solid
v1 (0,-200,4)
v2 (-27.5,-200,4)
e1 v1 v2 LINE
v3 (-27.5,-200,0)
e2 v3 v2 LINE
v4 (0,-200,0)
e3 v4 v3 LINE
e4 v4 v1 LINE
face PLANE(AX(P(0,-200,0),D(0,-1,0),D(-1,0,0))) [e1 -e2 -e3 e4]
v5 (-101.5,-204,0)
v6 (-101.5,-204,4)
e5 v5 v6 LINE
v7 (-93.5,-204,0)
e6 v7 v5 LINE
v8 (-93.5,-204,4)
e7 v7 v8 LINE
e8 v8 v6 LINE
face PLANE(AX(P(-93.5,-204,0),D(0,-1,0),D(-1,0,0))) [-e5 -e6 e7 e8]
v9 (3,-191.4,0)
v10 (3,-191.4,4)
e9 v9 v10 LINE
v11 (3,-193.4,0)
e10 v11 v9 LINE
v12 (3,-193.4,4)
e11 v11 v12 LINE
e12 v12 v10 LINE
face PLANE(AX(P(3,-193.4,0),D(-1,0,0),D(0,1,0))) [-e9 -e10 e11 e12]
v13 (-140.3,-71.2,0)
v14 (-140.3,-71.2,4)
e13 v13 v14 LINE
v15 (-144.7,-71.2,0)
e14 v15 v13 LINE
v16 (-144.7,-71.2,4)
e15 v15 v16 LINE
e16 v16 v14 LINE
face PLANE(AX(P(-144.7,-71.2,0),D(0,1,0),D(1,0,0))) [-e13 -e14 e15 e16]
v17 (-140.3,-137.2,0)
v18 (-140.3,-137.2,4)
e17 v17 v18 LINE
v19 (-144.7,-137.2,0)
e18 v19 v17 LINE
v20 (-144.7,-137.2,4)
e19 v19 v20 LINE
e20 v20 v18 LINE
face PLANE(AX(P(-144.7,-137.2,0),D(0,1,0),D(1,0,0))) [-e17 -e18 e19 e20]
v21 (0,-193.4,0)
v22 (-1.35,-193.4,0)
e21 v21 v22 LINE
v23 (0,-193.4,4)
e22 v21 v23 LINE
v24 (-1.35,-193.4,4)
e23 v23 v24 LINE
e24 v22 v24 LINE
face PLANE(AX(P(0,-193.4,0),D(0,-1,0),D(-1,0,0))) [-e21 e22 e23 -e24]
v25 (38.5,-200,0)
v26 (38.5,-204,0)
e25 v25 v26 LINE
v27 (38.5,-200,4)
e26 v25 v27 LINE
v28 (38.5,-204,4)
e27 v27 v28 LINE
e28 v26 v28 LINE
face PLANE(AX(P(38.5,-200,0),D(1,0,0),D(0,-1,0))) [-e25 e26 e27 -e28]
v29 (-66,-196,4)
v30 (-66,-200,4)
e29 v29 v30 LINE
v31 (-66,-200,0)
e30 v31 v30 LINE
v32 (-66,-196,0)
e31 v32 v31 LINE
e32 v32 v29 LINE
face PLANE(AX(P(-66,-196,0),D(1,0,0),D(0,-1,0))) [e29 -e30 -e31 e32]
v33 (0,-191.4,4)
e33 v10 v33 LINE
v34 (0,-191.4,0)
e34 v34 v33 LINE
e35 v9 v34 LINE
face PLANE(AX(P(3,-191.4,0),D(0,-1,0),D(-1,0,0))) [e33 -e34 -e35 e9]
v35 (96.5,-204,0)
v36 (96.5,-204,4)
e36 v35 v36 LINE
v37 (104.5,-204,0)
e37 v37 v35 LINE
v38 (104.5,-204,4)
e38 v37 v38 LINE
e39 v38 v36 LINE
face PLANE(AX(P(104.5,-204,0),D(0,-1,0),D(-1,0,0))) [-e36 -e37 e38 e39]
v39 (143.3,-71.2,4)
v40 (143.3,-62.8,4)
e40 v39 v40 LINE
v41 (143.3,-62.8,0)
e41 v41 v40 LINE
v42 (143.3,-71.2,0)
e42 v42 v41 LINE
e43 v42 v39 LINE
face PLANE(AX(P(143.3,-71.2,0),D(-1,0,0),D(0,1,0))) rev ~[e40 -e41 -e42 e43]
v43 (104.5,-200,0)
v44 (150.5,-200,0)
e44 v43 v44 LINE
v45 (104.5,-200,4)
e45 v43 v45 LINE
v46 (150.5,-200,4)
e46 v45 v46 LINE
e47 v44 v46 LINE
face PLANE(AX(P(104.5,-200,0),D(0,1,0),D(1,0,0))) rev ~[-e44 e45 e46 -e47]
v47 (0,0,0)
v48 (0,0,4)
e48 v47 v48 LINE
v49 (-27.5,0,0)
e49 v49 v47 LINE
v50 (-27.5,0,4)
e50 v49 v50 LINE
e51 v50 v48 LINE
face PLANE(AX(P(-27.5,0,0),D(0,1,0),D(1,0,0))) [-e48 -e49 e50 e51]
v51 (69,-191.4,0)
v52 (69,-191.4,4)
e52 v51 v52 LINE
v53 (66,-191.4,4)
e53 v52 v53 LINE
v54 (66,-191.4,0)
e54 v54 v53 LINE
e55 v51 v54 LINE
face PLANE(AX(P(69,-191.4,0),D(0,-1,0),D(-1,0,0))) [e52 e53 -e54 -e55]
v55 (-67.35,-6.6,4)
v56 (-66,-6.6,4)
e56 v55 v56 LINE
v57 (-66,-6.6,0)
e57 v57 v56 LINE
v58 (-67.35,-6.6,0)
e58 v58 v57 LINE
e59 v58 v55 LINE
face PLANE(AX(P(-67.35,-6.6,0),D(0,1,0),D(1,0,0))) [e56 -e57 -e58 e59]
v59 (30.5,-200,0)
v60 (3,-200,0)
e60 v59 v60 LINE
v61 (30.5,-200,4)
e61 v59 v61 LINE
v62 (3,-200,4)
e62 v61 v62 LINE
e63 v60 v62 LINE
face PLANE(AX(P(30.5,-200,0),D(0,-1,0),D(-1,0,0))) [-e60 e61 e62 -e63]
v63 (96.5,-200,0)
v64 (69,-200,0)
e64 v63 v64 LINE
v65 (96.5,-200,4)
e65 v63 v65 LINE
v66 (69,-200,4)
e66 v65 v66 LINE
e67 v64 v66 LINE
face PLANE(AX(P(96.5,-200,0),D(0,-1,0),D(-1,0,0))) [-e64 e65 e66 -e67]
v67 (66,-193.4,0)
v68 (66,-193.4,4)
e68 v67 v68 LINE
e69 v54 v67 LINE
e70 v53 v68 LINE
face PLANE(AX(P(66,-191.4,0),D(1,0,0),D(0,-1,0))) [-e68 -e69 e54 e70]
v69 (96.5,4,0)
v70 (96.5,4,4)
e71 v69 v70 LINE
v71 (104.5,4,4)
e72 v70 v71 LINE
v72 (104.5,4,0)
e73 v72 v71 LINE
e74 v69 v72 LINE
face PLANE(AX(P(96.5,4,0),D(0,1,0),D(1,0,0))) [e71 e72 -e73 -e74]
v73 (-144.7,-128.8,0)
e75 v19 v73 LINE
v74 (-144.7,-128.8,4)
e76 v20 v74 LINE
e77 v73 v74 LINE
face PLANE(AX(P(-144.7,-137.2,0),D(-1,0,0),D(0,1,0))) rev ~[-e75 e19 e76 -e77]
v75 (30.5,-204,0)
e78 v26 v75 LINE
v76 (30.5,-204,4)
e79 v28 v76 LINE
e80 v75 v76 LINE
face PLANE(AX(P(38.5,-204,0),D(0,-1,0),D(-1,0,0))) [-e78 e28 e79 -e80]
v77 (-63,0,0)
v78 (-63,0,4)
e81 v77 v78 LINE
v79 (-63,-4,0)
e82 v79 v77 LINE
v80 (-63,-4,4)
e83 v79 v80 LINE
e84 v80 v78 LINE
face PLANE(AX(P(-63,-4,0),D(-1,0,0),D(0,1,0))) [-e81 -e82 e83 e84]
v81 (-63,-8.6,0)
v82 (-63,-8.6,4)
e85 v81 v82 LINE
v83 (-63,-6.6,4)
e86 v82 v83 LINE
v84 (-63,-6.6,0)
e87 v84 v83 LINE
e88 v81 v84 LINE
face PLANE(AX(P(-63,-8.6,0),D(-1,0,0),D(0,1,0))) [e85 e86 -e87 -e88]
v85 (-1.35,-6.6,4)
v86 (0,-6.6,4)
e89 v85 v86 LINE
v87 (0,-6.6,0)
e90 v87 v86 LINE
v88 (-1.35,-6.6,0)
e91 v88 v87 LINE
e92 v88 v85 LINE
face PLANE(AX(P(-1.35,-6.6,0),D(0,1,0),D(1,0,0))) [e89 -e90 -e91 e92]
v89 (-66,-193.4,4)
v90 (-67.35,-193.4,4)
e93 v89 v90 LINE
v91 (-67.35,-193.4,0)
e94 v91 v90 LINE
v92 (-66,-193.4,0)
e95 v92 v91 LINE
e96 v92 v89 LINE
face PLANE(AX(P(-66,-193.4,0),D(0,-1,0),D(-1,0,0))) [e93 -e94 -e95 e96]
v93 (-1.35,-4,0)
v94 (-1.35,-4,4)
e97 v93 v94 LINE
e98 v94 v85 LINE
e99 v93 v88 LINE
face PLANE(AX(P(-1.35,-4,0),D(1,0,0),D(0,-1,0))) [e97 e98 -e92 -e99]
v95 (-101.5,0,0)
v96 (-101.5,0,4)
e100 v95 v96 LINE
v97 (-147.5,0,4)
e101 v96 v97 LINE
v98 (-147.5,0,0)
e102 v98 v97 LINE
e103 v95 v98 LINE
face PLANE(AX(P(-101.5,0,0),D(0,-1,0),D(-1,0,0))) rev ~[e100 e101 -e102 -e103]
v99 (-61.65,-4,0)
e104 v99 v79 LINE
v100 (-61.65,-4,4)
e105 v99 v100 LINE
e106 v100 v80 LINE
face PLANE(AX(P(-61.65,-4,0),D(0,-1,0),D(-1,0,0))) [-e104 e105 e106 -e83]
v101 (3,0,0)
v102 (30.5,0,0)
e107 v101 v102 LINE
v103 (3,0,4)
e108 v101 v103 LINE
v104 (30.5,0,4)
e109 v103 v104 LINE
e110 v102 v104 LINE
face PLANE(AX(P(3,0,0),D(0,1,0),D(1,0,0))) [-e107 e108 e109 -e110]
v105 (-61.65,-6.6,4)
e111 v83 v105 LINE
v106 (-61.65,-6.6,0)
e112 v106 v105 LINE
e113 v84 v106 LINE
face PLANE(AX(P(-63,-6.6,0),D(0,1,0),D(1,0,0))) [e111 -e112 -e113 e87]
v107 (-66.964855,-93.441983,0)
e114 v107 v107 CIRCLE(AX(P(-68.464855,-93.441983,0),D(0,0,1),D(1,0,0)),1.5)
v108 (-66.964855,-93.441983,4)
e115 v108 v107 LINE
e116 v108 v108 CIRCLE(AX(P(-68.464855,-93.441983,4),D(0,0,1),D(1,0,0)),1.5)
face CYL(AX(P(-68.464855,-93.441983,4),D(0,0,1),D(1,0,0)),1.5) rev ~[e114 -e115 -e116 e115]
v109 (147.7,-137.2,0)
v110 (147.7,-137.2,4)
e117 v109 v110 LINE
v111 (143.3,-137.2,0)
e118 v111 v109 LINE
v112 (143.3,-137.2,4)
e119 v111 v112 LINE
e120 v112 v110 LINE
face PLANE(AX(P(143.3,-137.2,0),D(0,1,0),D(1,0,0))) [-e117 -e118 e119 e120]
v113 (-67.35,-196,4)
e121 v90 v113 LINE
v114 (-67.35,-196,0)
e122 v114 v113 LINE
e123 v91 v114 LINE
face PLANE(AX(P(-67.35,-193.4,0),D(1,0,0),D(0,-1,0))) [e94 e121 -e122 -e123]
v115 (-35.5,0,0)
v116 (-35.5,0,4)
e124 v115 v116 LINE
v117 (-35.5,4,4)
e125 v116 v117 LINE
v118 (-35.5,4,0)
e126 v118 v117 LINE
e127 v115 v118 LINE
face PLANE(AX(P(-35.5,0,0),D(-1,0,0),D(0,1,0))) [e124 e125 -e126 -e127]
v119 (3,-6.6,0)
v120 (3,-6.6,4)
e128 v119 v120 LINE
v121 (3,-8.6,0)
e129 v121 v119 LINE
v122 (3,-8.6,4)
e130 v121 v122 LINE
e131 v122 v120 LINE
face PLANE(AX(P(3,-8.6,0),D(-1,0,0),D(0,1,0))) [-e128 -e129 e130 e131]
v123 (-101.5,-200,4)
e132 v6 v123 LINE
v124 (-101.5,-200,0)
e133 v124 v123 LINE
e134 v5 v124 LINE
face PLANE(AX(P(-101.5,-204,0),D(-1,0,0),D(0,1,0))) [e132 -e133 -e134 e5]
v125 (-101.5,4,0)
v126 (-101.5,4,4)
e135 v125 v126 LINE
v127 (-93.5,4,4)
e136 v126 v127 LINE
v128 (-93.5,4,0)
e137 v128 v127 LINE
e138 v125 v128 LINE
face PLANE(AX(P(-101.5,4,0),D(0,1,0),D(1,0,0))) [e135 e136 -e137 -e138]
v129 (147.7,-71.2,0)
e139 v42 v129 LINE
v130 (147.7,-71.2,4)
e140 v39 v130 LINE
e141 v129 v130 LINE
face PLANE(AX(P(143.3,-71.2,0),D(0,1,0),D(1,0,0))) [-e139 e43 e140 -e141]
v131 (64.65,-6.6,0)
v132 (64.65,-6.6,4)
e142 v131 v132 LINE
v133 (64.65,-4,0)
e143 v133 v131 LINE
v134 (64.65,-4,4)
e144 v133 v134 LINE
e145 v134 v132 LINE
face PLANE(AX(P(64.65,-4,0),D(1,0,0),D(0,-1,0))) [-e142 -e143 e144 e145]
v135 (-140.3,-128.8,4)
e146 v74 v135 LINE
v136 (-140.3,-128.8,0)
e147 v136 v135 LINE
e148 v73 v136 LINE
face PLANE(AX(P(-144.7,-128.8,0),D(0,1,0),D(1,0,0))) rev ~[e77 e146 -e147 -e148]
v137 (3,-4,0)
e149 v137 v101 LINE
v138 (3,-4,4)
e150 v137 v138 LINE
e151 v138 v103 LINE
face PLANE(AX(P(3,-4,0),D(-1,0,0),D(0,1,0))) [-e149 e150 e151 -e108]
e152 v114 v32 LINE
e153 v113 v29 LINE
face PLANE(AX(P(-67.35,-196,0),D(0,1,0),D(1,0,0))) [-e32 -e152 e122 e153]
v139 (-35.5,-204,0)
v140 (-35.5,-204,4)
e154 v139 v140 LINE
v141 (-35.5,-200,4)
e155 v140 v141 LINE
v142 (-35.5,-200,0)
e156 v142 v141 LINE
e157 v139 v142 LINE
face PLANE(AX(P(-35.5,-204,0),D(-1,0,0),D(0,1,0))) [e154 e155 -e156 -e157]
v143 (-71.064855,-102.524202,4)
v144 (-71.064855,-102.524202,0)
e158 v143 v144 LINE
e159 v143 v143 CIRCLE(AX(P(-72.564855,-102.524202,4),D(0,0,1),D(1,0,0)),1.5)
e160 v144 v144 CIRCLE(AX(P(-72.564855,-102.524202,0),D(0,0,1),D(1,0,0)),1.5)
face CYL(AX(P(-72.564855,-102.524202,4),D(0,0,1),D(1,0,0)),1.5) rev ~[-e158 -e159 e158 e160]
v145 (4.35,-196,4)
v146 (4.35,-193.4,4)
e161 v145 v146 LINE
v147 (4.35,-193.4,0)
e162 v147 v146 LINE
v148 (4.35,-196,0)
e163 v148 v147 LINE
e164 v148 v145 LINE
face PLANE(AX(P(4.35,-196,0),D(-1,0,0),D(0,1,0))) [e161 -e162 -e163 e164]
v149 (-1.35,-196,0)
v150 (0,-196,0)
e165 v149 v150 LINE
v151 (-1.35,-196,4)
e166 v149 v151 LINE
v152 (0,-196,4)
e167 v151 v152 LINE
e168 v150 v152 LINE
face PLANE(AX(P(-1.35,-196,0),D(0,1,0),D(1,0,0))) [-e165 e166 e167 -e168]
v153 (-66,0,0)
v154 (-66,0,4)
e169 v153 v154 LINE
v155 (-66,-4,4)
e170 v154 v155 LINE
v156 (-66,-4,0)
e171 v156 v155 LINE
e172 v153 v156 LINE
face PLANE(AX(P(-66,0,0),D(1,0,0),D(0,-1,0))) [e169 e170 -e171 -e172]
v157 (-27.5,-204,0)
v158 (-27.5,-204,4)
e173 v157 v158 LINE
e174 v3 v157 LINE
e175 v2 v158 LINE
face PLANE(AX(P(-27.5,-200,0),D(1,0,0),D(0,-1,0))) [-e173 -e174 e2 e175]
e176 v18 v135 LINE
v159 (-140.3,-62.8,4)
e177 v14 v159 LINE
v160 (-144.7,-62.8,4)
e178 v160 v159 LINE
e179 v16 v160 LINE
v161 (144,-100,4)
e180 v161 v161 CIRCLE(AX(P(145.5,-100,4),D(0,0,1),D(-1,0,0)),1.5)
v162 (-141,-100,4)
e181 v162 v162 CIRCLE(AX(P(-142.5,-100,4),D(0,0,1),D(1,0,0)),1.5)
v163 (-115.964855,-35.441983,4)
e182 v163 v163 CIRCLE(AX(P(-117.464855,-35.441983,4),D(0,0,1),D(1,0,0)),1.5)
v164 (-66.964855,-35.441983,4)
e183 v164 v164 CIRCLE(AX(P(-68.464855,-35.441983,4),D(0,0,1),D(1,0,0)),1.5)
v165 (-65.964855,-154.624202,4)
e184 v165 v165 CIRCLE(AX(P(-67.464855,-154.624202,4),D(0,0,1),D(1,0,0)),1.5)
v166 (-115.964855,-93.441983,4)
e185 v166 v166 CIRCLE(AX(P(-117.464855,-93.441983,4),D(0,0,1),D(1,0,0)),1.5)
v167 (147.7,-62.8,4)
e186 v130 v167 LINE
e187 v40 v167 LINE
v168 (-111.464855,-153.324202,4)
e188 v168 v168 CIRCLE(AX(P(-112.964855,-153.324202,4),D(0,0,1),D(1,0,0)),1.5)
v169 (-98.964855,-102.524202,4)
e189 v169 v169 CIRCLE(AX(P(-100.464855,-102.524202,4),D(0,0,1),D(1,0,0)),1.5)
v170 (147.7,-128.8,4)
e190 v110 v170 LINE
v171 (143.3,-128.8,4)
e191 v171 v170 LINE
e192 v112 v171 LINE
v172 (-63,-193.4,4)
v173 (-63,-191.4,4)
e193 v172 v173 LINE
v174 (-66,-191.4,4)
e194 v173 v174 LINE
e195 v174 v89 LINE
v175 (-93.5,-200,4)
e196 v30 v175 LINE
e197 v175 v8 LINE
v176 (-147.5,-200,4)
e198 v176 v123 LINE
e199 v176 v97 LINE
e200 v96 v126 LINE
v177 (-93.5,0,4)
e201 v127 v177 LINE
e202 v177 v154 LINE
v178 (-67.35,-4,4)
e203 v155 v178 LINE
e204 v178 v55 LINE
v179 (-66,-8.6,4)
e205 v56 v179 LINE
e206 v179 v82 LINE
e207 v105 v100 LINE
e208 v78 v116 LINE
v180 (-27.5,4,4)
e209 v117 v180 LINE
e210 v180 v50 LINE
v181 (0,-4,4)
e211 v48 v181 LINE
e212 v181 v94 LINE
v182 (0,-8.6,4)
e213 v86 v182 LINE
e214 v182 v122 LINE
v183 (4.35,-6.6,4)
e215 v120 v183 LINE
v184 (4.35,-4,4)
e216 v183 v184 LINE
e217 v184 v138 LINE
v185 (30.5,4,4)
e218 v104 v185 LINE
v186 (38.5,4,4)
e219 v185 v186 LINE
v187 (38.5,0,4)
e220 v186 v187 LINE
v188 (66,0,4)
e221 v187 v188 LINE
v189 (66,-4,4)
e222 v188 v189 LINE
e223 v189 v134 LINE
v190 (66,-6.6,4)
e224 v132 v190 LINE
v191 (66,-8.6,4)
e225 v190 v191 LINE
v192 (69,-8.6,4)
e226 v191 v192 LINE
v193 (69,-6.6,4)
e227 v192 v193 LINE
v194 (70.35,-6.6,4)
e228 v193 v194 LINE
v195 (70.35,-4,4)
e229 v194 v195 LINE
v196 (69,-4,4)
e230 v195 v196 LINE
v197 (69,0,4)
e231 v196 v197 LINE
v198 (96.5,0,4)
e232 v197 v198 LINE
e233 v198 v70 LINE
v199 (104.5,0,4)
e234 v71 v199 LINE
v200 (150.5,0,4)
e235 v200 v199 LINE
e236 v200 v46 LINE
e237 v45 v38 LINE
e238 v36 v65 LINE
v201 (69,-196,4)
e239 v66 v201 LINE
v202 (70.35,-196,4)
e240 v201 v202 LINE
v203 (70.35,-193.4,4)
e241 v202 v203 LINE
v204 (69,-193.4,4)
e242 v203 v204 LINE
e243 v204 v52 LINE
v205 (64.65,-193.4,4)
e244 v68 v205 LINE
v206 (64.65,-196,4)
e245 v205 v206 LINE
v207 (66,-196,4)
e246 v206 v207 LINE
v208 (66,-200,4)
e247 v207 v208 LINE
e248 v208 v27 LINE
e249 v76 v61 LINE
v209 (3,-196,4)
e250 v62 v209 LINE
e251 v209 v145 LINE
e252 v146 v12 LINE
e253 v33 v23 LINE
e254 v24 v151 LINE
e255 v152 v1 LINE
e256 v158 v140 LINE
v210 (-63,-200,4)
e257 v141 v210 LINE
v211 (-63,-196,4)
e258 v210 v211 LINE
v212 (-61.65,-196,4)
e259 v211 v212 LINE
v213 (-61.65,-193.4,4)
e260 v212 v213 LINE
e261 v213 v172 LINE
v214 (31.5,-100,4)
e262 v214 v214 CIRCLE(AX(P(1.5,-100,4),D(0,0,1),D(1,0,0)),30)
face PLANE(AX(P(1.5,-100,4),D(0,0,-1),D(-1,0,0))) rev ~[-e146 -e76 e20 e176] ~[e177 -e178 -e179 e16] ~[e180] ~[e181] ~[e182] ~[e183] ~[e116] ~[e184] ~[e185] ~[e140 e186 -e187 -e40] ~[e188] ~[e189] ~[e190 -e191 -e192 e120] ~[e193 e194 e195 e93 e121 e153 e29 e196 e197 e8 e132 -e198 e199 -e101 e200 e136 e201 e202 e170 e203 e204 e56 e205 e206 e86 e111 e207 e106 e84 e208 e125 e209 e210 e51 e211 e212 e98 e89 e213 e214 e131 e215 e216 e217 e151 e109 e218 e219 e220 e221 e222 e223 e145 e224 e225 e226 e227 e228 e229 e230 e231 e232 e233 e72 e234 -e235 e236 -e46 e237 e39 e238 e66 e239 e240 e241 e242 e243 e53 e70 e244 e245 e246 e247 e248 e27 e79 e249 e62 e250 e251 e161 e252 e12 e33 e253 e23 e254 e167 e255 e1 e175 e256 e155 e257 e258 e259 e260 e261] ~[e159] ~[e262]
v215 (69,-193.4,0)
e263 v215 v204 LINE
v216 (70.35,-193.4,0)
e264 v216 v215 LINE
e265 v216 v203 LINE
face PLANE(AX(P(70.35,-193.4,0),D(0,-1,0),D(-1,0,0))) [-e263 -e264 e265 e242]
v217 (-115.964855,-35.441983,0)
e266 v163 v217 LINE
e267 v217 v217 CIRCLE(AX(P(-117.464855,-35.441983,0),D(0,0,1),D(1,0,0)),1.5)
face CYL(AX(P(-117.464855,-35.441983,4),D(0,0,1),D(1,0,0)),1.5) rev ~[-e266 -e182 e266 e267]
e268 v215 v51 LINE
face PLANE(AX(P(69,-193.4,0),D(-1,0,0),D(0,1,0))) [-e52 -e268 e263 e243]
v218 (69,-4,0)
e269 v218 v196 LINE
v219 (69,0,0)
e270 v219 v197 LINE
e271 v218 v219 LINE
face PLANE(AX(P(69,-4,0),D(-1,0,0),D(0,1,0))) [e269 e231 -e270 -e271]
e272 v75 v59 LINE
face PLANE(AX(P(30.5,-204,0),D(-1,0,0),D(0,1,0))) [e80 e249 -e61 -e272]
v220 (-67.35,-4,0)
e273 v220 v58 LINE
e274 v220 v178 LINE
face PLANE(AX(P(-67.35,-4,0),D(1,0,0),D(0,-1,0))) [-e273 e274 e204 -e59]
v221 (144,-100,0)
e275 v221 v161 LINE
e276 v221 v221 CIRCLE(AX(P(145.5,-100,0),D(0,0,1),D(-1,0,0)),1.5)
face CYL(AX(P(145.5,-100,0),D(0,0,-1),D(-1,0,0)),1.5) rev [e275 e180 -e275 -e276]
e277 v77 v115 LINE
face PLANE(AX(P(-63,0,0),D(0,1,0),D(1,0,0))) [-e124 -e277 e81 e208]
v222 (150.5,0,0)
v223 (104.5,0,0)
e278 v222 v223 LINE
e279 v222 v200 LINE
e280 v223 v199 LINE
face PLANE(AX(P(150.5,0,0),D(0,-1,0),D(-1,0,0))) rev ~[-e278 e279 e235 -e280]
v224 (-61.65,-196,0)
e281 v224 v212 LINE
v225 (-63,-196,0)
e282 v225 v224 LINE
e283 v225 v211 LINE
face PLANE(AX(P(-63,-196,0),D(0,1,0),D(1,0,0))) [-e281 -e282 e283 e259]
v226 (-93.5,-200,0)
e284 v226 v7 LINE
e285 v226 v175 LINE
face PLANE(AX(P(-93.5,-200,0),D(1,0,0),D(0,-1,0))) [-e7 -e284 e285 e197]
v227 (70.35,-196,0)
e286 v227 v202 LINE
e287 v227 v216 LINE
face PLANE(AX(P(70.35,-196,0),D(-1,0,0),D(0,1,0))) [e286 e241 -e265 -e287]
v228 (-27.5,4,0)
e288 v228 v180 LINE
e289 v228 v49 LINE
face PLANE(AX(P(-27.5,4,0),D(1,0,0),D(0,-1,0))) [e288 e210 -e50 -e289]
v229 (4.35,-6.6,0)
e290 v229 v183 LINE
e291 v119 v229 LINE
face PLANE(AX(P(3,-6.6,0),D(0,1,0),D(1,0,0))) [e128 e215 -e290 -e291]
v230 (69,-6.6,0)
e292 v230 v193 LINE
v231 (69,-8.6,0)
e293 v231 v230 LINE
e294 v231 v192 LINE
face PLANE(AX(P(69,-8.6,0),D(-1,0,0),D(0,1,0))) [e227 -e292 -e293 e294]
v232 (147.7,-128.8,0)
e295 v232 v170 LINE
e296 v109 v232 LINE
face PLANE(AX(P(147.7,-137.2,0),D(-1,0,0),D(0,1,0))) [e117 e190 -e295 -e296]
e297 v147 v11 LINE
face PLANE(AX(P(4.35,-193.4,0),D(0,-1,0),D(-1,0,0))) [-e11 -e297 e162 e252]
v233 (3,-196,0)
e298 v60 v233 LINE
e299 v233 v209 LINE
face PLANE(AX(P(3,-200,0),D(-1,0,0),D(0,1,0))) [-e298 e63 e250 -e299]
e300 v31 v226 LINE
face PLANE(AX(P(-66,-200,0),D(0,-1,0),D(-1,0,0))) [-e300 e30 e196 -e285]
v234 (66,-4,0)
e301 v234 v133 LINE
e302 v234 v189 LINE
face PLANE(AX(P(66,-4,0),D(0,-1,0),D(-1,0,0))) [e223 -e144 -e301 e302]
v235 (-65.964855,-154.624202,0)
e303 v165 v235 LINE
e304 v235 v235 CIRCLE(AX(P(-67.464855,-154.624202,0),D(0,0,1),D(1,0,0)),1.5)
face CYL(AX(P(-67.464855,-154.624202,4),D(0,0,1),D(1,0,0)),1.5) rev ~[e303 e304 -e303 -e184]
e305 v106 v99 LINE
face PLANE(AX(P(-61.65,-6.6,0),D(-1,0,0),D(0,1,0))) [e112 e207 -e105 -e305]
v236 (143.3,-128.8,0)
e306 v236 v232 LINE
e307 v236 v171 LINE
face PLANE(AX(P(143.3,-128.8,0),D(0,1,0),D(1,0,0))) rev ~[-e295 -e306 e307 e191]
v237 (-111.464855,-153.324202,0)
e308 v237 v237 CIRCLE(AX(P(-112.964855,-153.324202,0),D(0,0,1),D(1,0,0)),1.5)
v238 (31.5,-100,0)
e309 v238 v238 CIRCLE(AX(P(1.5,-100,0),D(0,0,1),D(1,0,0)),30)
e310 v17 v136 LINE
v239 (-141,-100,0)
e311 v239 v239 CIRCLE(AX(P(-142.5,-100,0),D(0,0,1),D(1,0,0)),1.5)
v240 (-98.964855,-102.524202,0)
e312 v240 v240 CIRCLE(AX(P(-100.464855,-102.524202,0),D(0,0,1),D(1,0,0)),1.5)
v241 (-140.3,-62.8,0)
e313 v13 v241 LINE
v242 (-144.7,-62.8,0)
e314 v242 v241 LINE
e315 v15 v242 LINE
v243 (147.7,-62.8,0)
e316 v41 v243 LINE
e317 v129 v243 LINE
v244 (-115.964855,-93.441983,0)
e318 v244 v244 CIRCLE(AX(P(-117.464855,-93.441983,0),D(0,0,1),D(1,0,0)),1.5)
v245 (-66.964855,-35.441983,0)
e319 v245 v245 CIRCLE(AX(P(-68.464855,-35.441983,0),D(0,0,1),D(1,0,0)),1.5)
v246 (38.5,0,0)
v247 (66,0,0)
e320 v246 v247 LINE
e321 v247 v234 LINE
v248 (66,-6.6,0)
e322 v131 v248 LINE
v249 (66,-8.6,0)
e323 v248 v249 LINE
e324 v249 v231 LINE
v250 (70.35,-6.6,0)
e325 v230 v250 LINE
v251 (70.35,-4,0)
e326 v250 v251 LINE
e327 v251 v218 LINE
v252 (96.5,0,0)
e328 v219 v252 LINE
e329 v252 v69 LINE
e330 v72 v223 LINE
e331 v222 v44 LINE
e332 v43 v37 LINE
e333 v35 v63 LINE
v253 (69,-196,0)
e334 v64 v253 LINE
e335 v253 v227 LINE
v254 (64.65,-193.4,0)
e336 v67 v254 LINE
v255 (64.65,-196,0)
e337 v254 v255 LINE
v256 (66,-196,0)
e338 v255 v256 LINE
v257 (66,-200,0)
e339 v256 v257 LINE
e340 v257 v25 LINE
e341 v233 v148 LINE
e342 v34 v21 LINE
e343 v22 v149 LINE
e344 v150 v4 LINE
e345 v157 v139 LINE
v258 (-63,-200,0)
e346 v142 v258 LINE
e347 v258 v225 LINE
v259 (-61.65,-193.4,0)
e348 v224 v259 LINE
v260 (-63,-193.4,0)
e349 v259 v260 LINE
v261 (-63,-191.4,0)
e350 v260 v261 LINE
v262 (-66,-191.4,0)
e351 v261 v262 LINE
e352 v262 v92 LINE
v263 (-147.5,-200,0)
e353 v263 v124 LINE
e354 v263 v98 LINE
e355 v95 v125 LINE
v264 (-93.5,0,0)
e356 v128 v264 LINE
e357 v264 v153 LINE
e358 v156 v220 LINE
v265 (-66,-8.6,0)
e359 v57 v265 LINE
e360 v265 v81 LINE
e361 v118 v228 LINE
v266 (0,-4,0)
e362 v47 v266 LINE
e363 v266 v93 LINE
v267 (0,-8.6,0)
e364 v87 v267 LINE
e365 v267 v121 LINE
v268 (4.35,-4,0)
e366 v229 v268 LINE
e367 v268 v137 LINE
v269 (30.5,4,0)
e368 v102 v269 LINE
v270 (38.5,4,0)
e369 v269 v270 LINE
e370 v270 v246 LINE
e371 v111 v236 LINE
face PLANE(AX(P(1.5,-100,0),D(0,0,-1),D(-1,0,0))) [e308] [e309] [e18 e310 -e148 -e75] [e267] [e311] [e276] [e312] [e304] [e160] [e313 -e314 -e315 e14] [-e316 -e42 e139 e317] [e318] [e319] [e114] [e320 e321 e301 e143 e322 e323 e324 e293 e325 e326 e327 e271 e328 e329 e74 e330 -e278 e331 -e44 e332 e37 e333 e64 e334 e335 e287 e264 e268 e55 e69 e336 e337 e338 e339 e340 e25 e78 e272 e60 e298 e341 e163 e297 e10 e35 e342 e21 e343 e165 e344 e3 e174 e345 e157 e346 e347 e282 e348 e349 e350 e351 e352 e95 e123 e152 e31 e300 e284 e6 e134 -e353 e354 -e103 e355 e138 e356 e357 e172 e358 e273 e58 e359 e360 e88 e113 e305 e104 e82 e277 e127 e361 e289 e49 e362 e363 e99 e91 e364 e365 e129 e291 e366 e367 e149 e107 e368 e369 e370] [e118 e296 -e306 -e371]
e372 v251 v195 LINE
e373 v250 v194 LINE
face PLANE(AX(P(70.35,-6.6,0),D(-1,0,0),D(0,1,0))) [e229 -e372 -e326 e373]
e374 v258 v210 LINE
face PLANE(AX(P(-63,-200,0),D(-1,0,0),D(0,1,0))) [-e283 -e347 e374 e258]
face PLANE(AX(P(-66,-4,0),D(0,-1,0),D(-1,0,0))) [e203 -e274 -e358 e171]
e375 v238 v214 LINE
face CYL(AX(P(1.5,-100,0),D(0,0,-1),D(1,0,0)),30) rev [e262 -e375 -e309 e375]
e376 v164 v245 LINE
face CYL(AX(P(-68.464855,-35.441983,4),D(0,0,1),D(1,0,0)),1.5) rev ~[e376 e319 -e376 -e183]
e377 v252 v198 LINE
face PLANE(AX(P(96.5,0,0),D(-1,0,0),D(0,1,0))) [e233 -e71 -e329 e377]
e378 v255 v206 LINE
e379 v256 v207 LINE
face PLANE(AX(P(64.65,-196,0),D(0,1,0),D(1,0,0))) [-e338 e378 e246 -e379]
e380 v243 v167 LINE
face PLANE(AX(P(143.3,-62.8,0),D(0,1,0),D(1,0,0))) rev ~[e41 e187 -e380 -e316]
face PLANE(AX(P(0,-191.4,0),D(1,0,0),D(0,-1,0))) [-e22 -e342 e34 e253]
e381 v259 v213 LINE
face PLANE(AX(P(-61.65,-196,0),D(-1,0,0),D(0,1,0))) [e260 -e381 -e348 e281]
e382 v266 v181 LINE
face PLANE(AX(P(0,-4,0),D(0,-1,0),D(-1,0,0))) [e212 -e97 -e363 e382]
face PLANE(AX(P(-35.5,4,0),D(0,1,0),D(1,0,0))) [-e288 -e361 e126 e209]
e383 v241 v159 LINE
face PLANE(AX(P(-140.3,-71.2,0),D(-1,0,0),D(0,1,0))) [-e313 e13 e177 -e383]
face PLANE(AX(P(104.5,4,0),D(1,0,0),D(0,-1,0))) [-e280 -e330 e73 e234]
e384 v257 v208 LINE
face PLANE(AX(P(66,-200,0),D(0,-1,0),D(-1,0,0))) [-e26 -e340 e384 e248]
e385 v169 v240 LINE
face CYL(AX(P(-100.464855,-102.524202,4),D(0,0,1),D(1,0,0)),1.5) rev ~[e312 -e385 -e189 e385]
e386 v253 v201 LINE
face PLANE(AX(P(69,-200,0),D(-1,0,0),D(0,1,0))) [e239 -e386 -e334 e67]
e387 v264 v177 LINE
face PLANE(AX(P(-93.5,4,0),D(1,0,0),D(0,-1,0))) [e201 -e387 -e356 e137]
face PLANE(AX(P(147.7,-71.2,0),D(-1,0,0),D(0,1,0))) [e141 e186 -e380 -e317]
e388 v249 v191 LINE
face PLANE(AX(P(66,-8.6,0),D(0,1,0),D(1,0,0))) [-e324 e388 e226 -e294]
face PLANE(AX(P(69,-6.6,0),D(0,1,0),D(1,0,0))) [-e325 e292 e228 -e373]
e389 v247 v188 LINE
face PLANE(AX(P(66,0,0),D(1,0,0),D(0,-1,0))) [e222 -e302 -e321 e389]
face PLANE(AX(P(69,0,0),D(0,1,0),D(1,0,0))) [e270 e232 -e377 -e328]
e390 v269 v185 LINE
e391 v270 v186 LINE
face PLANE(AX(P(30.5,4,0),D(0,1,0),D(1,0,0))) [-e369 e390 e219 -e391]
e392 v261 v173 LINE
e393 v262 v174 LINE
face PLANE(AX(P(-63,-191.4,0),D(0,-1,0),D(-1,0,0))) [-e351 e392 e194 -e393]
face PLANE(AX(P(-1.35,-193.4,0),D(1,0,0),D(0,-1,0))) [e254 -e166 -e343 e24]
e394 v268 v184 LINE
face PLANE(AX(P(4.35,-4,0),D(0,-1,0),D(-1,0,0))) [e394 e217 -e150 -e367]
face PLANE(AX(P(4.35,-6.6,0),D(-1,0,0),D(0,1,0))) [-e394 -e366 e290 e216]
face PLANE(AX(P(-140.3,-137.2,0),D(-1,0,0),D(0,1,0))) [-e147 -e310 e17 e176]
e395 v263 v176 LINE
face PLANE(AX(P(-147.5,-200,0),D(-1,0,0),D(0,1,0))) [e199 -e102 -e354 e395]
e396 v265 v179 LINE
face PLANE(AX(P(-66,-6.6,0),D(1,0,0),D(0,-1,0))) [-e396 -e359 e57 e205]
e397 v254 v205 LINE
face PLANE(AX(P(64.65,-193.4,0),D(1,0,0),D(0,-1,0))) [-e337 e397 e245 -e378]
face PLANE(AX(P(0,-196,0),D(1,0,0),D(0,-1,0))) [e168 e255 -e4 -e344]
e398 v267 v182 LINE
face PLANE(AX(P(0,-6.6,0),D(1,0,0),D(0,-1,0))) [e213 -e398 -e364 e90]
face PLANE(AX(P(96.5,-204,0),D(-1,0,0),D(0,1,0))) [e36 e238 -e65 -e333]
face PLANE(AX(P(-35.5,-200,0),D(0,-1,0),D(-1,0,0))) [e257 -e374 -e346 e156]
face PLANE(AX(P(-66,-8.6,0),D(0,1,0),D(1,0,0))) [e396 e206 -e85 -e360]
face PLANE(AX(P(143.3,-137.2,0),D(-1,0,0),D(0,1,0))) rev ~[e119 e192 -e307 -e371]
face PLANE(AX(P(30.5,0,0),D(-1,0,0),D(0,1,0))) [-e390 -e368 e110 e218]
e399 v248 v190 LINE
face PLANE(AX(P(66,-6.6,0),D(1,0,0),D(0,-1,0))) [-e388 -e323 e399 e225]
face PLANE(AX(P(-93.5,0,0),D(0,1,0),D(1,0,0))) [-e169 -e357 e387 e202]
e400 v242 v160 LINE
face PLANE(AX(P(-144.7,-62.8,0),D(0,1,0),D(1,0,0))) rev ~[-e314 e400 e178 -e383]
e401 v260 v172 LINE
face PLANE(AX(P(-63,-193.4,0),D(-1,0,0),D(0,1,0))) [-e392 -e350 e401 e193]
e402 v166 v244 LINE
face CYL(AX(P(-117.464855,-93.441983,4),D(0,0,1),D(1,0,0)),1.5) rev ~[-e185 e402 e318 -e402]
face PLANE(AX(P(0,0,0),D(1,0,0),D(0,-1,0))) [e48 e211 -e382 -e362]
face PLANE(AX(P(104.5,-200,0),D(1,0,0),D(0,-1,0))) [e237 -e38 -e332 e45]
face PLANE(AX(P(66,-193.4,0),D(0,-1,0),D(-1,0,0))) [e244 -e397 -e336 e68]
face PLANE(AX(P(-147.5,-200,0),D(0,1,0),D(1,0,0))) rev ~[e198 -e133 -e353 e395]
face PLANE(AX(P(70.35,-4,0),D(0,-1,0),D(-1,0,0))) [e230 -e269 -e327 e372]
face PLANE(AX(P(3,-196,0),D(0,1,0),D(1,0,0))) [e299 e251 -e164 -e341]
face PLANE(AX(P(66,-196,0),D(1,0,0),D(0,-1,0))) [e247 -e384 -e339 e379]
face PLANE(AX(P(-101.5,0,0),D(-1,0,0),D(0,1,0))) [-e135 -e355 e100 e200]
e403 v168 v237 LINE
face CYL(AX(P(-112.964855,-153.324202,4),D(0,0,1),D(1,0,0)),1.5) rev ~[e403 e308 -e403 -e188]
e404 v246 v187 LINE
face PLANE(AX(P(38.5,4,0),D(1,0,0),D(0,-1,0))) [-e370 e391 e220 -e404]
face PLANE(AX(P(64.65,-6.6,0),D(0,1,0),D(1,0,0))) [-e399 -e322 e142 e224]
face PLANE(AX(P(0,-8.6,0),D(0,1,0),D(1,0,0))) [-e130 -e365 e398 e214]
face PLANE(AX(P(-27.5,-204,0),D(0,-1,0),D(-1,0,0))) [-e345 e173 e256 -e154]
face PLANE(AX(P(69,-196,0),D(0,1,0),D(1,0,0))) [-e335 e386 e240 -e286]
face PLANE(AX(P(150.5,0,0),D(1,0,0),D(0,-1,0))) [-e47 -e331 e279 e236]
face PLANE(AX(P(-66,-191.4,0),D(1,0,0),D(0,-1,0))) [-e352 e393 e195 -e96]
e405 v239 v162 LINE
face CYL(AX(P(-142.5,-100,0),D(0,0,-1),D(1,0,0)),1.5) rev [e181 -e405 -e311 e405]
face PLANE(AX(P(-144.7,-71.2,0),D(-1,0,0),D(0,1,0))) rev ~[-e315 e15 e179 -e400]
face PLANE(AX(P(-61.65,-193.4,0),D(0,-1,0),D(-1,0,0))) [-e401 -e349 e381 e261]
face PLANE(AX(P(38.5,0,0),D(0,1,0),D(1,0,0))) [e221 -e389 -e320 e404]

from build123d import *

# Parameters (mm, degrees)
SKETCH_1_R          = 1.5
SKETCH_1_R_2        = 30
SKETCH_1_W          = 4.4
SKETCH_1_H          = 8.4
EXTRUDE_1_DEPTH     = 4
SKETCH_4_R          = 1.5
CUT_EXTRUDE_1_DEPTH = 10


with BuildPart() as part:
    # 草图1 → 凸台-拉伸1 (new body)
    with BuildSketch(Plane.XY):
        Polygon((0, 0), (0, -4), (-1.35, -4), (-1.35, -6.6), (0, -6.6), (0, -8.6), (3, -8.6), (3, -6.6), (4.35, -6.6), (4.35, -4), (3, -4), (3, 0), (30.5, 0), (30.5, 4), (38.5, 4), (38.5, 0), (66, 0), (66, -4), (64.65, -4), (64.65, -6.6), (66, -6.6), (66, -8.6), (69, -8.6), (69, -6.6), (70.35, -6.6), (70.35, -4), (69, -4), (69, 0), (96.5, 0), (96.5, 4), (104.5, 4), (104.5, 0), (132, 0), (143.5, 0), (145.5, 0), (150.5, 0), (150.5, -200), (145.5, -200), (143.5, -200), (132, -200), (104.5, -200), (104.5, -204), (96.5, -204), (96.5, -200), (69, -200), (69, -196), (70.35, -196), (70.35, -193.4), (69, -193.4), (69, -191.4), (66, -191.4), (66, -193.4), (64.65, -193.4), (64.65, -196), (66, -196), (66, -200), (38.5, -200), (38.5, -204), (30.5, -204), (30.5, -200), (3, -200), (3, -196), (4.35, -196), (4.35, -193.4), (3, -193.4), (3, -191.4), (0, -191.4), (0, -193.4), (-1.35, -193.4), (-1.35, -196), (0, -196), (0, -200), (-27.5, -200), (-27.5, -204), (-35.5, -204), (-35.5, -200), (-63, -200), (-63, -196), (-61.65, -196), (-61.65, -193.4), (-63, -193.4), (-63, -191.4), (-66, -191.4), (-66, -193.4), (-67.35, -193.4), (-67.35, -196), (-66, -196), (-66, -200), (-93.5, -200), (-93.5, -204), (-101.5, -204), (-101.5, -200), (-129, -200), (-140.5, -200), (-142.5, -200), (-147.5, -200), (-147.5, 0), (-142.5, 0), (-140.5, 0), (-129, 0), (-101.5, 0), (-101.5, 4), (-93.5, 4), (-93.5, 0), (-66, 0), (-66, -4), (-67.35, -4), (-67.35, -6.6), (-66, -6.6), (-66, -8.6), (-63, -8.6), (-63, -6.6), (-61.65, -6.6), (-61.65, -4), (-63, -4), (-63, 0), (-35.5, 0), (-35.5, 4), (-27.5, 4), (-27.5, 0), align=None)
        with Locations((-142.5, -100)):
            Circle(SKETCH_1_R, mode=Mode.SUBTRACT)
        with Locations(Location((145.5, -100, 0), (0, 0, 180))):
            Circle(SKETCH_1_R, mode=Mode.SUBTRACT)
        with Locations((1.5, -100)):
            Circle(SKETCH_1_R_2, mode=Mode.SUBTRACT)
        with Locations((-142.5, -67)):
            Rectangle(SKETCH_1_W, SKETCH_1_H, mode=Mode.SUBTRACT)
        with Locations((-142.5, -133)):
            Rectangle(SKETCH_1_W, SKETCH_1_H, mode=Mode.SUBTRACT)
        with Locations((145.5, -133)):
            Rectangle(SKETCH_1_W, SKETCH_1_H, mode=Mode.SUBTRACT)
        with Locations((145.5, -67)):
            Rectangle(SKETCH_1_W, SKETCH_1_H, mode=Mode.SUBTRACT)
    extrude(amount=EXTRUDE_1_DEPTH)

    # 草图4 → 切除-拉伸1 (cut)
    with BuildSketch(Plane.XY.offset(4)):
        with Locations((-100.464854909, -102.524202067)):
            Circle(SKETCH_4_R)
        with Locations((-72.564854909, -102.524202067)):
            Circle(SKETCH_4_R)
        with Locations((-112.964854909, -153.324202067)):
            Circle(SKETCH_4_R)
        with Locations((-67.464854909, -154.624202067)):
            Circle(SKETCH_4_R)
        with Locations((-117.464854909, -35.441983185)):
            Circle(SKETCH_4_R)
        with Locations((-68.464854909, -35.441983185)):
            Circle(SKETCH_4_R)
        with Locations((-117.464854909, -93.441983185)):
            Circle(SKETCH_4_R)
        with Locations((-68.464854909, -93.441983185)):
            Circle(SKETCH_4_R)
    extrude(amount=-CUT_EXTRUDE_1_DEPTH, mode=Mode.SUBTRACT)


solid = part.part
